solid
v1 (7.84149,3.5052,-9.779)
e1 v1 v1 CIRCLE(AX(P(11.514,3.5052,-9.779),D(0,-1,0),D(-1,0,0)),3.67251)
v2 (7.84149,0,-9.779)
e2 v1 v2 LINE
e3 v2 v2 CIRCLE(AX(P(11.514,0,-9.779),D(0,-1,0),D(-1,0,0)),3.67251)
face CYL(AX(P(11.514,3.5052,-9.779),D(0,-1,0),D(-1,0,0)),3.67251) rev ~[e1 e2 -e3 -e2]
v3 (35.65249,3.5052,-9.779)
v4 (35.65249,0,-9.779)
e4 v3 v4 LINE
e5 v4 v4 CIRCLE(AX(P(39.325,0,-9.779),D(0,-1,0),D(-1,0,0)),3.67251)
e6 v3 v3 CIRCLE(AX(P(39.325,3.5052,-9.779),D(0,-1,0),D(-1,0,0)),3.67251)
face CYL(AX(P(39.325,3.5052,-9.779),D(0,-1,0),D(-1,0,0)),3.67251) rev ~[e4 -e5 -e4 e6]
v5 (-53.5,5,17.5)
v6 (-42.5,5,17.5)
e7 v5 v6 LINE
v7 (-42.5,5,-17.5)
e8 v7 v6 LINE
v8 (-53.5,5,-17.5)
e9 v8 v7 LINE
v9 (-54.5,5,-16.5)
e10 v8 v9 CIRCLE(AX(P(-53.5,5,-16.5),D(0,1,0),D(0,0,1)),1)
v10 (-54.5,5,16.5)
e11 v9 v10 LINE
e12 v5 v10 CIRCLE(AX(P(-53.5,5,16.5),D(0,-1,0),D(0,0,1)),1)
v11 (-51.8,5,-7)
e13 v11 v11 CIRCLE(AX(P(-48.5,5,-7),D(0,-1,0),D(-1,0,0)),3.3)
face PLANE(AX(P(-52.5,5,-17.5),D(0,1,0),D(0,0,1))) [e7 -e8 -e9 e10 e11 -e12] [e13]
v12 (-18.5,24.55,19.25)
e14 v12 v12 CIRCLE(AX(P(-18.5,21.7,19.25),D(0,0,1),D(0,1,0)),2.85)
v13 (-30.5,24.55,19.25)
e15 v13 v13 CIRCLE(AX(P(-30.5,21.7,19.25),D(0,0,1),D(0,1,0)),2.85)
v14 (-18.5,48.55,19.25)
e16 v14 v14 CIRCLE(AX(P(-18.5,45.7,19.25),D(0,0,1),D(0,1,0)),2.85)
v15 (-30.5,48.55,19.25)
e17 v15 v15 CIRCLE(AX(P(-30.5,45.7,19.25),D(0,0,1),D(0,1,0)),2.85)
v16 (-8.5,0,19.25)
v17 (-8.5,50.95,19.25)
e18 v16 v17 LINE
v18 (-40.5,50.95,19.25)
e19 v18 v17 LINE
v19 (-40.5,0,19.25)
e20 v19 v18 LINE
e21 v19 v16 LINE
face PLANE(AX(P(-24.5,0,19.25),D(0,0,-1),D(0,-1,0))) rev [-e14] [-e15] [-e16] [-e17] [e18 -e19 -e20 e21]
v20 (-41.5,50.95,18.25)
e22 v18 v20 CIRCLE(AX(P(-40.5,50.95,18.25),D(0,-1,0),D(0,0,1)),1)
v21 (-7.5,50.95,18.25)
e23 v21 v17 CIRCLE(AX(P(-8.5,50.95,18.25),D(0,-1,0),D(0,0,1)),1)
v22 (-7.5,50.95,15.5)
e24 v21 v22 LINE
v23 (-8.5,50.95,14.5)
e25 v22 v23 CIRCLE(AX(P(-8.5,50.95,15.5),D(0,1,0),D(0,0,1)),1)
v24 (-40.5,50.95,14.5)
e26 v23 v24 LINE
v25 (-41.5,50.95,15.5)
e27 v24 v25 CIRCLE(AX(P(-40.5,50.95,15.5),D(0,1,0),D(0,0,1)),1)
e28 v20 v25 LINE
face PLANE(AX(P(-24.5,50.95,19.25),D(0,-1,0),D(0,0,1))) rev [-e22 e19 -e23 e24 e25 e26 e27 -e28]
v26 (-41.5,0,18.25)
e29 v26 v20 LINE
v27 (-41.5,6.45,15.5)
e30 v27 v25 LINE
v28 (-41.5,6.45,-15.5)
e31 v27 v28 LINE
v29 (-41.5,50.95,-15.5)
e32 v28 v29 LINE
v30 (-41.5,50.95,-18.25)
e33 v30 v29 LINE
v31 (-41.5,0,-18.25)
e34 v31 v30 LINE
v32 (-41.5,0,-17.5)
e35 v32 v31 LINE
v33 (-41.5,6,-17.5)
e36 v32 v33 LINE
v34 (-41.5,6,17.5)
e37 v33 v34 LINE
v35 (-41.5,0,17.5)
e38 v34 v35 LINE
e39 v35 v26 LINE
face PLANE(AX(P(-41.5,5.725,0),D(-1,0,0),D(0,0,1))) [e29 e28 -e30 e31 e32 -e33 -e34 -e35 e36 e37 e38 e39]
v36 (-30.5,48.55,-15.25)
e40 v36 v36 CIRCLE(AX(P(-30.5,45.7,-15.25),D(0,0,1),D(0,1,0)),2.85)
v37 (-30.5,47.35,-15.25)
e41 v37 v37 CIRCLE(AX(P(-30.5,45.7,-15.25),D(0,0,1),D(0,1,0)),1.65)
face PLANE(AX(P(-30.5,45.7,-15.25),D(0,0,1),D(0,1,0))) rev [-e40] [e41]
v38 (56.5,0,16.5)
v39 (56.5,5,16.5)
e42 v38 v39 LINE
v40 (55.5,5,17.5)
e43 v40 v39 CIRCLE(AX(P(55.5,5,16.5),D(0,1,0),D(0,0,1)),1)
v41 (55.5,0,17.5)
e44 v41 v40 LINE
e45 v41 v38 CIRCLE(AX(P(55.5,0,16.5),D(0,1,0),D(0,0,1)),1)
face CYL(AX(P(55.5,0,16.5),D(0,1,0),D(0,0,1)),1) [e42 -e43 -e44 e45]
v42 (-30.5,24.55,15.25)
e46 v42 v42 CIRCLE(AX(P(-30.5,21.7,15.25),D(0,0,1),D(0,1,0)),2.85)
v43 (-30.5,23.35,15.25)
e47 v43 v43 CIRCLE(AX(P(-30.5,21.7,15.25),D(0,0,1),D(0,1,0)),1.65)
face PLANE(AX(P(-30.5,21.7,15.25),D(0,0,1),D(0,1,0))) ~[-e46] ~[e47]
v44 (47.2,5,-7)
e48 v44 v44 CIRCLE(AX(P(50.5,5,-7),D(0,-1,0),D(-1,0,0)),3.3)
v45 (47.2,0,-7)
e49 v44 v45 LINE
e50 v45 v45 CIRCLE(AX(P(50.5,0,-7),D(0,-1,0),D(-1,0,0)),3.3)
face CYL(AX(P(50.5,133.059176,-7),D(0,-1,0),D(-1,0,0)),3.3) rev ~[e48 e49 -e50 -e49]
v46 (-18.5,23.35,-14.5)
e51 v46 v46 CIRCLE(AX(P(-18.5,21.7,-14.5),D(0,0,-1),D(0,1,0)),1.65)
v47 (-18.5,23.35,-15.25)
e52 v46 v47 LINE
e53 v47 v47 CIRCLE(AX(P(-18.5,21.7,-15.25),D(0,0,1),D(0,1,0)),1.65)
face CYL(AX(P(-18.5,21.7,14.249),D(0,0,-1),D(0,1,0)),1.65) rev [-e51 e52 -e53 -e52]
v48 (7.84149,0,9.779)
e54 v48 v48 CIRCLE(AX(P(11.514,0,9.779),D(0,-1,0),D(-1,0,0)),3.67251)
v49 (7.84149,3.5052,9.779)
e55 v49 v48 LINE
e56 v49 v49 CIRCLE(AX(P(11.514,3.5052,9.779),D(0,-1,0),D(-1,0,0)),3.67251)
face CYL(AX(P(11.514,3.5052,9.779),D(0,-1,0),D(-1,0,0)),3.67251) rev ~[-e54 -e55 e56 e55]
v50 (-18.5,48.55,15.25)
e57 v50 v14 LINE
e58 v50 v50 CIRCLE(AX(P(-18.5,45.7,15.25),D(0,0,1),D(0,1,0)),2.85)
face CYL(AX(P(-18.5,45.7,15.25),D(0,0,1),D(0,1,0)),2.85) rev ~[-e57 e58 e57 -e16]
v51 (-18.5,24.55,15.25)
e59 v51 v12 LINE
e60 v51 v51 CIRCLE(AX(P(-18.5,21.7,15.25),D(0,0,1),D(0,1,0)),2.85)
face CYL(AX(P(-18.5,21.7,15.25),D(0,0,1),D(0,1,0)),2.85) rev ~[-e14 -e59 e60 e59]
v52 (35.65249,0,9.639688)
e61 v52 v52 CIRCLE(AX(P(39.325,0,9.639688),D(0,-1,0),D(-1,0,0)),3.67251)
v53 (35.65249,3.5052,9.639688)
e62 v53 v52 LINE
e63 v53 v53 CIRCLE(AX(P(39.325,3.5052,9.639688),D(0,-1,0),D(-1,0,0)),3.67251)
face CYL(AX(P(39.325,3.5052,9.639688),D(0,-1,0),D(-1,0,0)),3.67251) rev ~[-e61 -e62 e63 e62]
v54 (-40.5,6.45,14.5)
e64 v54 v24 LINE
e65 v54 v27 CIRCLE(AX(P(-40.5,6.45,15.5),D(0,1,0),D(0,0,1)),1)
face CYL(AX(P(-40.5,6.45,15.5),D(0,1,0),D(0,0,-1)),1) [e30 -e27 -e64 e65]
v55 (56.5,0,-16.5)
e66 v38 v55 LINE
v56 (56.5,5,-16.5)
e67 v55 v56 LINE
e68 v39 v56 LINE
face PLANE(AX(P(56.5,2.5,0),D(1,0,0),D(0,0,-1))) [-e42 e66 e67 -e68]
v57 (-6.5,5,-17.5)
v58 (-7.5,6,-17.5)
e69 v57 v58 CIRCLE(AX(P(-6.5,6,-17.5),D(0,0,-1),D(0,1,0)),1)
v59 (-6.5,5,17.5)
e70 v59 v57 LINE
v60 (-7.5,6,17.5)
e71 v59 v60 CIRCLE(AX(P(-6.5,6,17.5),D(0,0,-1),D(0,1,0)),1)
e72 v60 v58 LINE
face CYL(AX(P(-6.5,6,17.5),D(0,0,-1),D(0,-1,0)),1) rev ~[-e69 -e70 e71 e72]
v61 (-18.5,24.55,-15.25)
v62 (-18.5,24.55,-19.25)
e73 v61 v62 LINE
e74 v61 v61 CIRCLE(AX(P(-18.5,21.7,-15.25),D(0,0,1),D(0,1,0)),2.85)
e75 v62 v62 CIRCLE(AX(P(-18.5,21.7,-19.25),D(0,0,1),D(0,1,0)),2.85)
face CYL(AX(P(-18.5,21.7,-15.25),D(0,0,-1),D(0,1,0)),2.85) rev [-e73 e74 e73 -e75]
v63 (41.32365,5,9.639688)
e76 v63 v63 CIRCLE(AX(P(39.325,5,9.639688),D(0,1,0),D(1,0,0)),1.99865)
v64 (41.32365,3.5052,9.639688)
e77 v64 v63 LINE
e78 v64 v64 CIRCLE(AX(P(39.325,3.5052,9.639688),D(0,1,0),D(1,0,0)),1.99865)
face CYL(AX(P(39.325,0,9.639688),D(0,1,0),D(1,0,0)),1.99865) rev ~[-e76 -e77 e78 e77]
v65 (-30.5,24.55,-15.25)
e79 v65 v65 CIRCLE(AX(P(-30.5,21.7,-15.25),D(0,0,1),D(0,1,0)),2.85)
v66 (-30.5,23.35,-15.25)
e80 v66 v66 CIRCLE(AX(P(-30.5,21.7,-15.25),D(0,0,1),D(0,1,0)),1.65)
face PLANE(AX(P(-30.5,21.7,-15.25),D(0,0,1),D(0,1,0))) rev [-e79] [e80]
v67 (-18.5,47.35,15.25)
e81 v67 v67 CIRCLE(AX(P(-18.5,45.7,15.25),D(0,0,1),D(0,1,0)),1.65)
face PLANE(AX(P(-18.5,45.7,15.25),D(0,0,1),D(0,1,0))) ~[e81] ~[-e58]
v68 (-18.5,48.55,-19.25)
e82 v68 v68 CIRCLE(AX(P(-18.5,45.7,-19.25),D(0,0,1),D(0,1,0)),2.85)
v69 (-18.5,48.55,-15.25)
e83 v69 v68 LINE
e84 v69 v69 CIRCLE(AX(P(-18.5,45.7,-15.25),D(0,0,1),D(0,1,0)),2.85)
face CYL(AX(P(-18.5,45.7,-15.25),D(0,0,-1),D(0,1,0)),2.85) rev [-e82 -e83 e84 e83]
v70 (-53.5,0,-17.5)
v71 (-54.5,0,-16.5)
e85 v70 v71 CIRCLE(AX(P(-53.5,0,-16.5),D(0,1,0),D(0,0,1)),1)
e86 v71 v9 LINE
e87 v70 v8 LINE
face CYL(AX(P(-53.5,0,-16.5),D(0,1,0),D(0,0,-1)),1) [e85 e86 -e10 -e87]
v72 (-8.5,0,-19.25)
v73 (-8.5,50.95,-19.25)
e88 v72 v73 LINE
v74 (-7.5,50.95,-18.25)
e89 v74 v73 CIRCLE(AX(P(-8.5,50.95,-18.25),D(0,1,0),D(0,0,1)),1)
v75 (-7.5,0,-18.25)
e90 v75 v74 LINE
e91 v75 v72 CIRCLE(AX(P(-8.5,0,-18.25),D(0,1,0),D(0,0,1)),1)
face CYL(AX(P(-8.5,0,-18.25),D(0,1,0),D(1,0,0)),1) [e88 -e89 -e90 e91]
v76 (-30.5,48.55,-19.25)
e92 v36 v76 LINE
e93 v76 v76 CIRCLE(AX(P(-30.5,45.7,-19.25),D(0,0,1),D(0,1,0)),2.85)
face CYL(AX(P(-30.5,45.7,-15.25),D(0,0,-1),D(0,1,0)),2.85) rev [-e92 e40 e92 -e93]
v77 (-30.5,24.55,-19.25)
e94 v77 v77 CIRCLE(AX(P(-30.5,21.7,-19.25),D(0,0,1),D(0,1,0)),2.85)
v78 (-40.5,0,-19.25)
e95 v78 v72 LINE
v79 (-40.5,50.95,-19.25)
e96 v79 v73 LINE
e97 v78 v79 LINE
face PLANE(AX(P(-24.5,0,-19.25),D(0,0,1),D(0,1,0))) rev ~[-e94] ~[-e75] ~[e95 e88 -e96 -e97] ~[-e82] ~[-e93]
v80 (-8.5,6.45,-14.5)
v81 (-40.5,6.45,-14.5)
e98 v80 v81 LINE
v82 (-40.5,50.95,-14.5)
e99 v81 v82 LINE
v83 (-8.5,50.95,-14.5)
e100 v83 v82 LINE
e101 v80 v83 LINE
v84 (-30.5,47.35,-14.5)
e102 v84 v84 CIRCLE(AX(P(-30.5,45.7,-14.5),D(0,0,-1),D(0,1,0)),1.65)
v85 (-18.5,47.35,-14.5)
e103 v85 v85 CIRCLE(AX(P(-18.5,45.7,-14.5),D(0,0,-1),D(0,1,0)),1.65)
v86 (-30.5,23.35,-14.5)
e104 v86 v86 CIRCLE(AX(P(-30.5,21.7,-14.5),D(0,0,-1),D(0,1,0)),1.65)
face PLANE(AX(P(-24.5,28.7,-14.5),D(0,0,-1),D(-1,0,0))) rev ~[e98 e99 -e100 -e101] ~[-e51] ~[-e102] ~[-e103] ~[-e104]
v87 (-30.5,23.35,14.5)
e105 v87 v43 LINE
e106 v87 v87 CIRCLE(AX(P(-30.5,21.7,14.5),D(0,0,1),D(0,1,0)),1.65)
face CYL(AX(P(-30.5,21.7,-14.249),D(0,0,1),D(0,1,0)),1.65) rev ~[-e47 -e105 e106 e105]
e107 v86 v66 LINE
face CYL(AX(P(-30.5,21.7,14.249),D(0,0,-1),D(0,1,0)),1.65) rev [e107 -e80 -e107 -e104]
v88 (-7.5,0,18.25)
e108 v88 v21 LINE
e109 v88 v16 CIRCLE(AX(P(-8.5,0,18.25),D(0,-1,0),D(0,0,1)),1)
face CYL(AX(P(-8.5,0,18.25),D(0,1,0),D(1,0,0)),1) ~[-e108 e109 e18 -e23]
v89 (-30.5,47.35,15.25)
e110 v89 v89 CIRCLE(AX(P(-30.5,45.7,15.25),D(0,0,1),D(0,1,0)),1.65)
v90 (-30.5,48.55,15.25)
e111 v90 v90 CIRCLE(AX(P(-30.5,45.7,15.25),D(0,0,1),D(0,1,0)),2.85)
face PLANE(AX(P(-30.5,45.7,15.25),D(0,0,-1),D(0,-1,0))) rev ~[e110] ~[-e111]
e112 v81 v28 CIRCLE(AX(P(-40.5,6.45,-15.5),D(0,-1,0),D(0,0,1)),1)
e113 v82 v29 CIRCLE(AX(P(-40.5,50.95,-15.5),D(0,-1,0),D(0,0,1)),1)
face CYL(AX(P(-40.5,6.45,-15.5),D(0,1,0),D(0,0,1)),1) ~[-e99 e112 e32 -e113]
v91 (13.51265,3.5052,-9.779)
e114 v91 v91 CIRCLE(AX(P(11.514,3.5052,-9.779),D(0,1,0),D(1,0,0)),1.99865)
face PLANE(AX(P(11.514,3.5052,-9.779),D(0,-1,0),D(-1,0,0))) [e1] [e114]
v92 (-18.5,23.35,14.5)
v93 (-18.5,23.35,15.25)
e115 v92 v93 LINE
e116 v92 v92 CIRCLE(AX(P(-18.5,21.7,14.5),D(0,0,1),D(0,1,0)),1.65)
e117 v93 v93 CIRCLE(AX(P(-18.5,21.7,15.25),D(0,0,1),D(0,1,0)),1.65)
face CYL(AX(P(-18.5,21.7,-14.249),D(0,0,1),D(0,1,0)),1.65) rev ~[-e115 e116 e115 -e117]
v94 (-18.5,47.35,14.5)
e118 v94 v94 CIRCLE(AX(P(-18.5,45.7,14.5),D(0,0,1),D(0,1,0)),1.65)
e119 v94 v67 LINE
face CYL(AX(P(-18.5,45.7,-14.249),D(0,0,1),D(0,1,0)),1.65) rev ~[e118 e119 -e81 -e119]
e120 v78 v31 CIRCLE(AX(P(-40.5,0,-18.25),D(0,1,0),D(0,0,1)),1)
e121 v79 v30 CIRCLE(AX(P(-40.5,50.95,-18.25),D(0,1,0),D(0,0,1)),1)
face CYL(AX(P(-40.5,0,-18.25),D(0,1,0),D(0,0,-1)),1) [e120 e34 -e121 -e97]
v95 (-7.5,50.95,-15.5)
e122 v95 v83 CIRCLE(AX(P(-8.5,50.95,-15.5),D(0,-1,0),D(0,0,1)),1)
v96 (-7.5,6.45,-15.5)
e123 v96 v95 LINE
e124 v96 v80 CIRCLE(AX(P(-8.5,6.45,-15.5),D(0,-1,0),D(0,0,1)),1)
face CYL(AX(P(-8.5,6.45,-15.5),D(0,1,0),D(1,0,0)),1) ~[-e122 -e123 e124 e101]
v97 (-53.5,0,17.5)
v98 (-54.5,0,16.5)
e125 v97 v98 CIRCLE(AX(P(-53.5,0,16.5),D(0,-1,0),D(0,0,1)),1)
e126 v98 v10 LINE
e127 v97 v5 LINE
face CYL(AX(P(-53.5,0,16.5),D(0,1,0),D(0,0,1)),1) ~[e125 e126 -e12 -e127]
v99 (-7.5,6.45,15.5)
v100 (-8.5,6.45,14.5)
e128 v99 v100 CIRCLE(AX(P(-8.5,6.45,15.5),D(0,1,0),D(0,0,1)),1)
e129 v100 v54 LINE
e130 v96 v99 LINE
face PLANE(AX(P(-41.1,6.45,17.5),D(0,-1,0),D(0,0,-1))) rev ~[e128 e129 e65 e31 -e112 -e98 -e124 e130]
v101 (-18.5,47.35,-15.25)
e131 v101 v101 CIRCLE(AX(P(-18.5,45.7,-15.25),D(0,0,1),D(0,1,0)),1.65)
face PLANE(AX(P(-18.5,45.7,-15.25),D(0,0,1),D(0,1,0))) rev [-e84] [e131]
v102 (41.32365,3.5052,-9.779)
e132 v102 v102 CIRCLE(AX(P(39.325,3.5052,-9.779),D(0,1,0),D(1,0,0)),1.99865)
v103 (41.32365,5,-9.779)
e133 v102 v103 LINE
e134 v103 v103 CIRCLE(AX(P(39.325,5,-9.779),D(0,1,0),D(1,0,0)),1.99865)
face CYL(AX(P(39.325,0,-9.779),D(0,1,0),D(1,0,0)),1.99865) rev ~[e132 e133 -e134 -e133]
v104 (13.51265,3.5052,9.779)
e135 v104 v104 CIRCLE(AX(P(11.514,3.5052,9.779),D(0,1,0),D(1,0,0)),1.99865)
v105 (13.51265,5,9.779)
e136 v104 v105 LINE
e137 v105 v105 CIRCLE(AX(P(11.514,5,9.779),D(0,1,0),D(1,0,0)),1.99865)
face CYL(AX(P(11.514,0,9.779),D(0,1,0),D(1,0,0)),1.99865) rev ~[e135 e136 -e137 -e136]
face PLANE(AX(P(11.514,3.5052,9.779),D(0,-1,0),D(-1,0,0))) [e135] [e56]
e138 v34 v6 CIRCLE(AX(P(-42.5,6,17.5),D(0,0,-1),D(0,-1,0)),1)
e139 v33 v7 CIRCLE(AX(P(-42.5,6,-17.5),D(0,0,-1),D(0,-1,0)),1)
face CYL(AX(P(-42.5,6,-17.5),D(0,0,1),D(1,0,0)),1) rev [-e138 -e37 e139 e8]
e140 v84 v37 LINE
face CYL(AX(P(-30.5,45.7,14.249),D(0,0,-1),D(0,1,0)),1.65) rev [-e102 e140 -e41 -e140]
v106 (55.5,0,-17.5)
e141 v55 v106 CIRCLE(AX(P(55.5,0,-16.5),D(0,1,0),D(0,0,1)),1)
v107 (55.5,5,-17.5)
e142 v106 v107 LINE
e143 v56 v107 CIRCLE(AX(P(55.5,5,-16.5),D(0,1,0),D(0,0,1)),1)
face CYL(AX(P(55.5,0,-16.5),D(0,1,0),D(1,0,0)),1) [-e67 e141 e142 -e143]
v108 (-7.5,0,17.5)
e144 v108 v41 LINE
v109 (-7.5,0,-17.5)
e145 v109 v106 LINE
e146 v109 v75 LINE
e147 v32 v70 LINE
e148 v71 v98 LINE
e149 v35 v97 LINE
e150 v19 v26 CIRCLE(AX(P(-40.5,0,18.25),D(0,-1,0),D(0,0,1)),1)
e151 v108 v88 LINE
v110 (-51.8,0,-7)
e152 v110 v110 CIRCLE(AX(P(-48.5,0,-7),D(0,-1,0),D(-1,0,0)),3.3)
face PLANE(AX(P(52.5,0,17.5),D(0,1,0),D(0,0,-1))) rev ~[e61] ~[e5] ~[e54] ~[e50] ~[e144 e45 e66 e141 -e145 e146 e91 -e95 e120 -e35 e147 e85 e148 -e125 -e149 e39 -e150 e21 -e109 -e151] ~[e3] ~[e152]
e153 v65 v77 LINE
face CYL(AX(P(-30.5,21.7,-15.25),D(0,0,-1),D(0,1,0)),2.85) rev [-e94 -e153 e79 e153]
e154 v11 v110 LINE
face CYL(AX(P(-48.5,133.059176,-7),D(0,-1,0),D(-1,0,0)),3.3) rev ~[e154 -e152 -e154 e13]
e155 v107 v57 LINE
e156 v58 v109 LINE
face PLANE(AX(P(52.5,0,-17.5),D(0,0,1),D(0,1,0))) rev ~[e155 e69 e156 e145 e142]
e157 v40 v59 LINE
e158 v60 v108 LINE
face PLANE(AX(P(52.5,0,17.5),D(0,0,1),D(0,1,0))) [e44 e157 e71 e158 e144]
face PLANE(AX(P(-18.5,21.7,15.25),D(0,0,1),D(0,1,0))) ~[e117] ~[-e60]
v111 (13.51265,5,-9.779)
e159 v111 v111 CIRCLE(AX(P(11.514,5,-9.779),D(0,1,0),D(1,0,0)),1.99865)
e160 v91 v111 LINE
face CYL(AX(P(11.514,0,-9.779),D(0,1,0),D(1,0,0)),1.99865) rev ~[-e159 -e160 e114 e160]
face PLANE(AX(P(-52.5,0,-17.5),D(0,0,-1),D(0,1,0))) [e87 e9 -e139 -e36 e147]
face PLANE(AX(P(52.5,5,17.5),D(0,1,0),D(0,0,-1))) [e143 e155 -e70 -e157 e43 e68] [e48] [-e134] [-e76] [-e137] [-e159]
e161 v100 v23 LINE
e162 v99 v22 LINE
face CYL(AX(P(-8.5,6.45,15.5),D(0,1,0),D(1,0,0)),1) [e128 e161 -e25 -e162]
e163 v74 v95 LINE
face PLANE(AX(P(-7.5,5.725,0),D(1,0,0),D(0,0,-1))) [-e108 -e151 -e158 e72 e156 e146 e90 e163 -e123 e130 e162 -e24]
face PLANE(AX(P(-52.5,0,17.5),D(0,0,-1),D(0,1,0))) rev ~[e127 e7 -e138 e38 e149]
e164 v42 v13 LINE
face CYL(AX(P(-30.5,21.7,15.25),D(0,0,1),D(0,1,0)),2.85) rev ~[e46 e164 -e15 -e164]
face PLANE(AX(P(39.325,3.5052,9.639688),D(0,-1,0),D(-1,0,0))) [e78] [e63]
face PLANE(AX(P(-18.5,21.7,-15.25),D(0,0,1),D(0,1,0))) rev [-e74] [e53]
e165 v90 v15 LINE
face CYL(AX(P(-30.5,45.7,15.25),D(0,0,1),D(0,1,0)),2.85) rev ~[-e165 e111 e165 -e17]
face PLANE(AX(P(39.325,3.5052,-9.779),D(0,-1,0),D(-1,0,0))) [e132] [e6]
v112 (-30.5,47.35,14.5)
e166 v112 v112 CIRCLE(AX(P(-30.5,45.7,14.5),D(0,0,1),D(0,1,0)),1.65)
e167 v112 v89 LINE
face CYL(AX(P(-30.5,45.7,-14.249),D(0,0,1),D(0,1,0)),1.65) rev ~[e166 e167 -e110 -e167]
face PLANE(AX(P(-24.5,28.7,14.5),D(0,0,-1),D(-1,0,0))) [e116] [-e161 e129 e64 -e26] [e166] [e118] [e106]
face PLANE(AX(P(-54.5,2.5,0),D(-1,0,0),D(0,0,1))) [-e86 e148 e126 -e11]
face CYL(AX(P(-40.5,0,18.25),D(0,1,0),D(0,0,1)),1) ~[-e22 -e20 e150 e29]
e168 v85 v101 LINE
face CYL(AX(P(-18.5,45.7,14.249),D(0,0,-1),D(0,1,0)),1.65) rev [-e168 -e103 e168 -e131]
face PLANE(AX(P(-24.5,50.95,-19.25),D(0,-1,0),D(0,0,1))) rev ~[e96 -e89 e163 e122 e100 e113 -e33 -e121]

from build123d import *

# Parameters (mm, degrees)
SKETCH1_W                                      = 105
SKETCH1_H                                      = 35
BOSS_EXTRUDE1_DEPTH                            = 5
SKETCH4_W                                      = 33.2
SKETCH4_H                                      = 35
BOSS_EXTRUDE2_DEPTH                            = 1.45
BOSS_EXTRUDE3_DEPTH                            = 17
CBORE_FOR_M2_5_SHCS1_AT_2_COUNT                = 2
CBORE_FOR_M2_5_SHCS1_AT_2_PITCH                = 12
CBORE_FOR_M2_5_SHCS1_AT_3_COUNT                = 2
CBORE_FOR_M2_5_SHCS1_AT_3_PITCH                = 24
CBORE_FOR_M2_5_SHCS1_AT_4_COUNT                = 2
CBORE_FOR_M2_5_SHCS1_AT_4_PITCH                = 26.83281573
BOSS_EXTRUDE5_DEPTH                            = 0.4
BOSS_EXTRUDE6_DEPTH                            = 0.4
CBORE_FOR_6_SOCKET_HEAD_CAP_SCREW1_D           = 3.997300108
CBORE_FOR_6_SOCKET_HEAD_CAP_SCREW1_CBORE_D     = 7.345020108
CBORE_FOR_6_SOCKET_HEAD_CAP_SCREW1_CBORE_DEPTH = 3.5052
SKETCH15_W                                     = 34
SKETCH15_H                                     = 44.5
CUT_EXTRUDE1_DEPTH                             = 14.5
SKETCH16_W                                     = 35
SKETCH16_H                                     = 5
BOSS_EXTRUDE7_DEPTH                            = 2
SKETCH17_W                                     = 35
SKETCH17_H                                     = 5
BOSS_EXTRUDE8_DEPTH                            = 4
M6_CLEARANCE_HOLE1_D                           = 6.6
FILLET1_R                                      = 1


with BuildPart() as part:
    # Sketch1 → Boss-Extrude1 (new body)
    with BuildSketch(Plane(origin=(0, 0, 0), x_dir=(1, 0, 0), z_dir=(0, 1, 0))):
        Rectangle(SKETCH1_W, SKETCH1_H)
    extrude(amount=BOSS_EXTRUDE1_DEPTH)

    # Sketch4 → Boss-Extrude2 (add)
    with BuildSketch(Plane(origin=(0, 5, 0), x_dir=(1, 0, 0), z_dir=(0, 1, 0))):
        with Locations((-24.5, 0)):
            Rectangle(SKETCH4_W, SKETCH4_H)
    extrude(amount=BOSS_EXTRUDE2_DEPTH)

    # Sketch5 → Boss-Extrude3 (add, symmetric)
    with BuildSketch(Plane.ZY.offset(24.5)):
        Polygon((-17.5, 0), (-19.25, 0), (-19.25, 50.95), (-14.25, 50.95), (-14.25, 6.45), (-17.5, 6.45), align=None)
    boss_extrude3 = extrude(amount=BOSS_EXTRUDE3_DEPTH, both=True)

    # Sketch9 → CBORE for M2.5 SHCS1 (revolve, cut)
    with BuildSketch(Plane(origin=(-30.5, 45.7, -19.25), x_dir=(0, 1, 0), z_dir=(1, 0, 0))):
        Polygon((0, 0), (0, 34.490420021), (1.65, 33.499), (1.65, 4), (2.85, 4), (2.85, 0), align=None)
    cbore_for_m2_5_shcs1 = revolve(axis=Axis((-30.5, 45.7, -25.6), (0, 0, 1)), mode=Mode.SUBTRACT)

    # CBORE for M2.5 SHCS1 at 2: CBORE for M2.5 SHCS1 ×2
    with Locations(*[(i * CBORE_FOR_M2_5_SHCS1_AT_2_PITCH, 0, 0) for i in range(1, CBORE_FOR_M2_5_SHCS1_AT_2_COUNT)]):
        add(cbore_for_m2_5_shcs1, mode=Mode.SUBTRACT)

    # CBORE for M2.5 SHCS1 at 3: CBORE for M2.5 SHCS1 ×2
    with Locations(*[(0, -i * CBORE_FOR_M2_5_SHCS1_AT_3_PITCH, 0) for i in range(1, CBORE_FOR_M2_5_SHCS1_AT_3_COUNT)]):
        add(cbore_for_m2_5_shcs1, mode=Mode.SUBTRACT)

    # CBORE for M2.5 SHCS1 at 4: CBORE for M2.5 SHCS1 ×2
    with Locations(*[Vector(0.44721359549995815, -0.8944271909999159, 0) * (i * CBORE_FOR_M2_5_SHCS1_AT_4_PITCH) for i in range(1, CBORE_FOR_M2_5_SHCS1_AT_4_COUNT)]):
        add(cbore_for_m2_5_shcs1, mode=Mode.SUBTRACT)

    # Mirror1: Boss-Extrude3, CBORE for M2.5 SHCS1 across plane
    add(boss_extrude3.mirror(Plane(origin=(0, 0, 0), x_dir=(1, 0, 0), z_dir=(0, 0, -1))))
    add(cbore_for_m2_5_shcs1.mirror(Plane(origin=(0, 0, 0), x_dir=(1, 0, 0), z_dir=(0, 0, -1))), mode=Mode.SUBTRACT)

    # Mirror1 copy 1 sketch → Mirror1 copy 1 (revolve, cut)
    with BuildSketch(Plane(origin=(-18.5, 45.7, 19.25), x_dir=(0, 1, 0), z_dir=(1, 0, 0))):
        Polygon((0, 0), (0, -34.490420021), (1.65, -33.499), (1.65, -4), (2.85, -4), (2.85, 0), align=None)
    revolve(axis=Axis((-18.5, 45.7, 25.6), (0, 0, 1)), mode=Mode.SUBTRACT)

    # Mirror1 copy 2 sketch → Mirror1 copy 2 (revolve, cut)
    with BuildSketch(Plane(origin=(-30.5, 21.7, 19.25), x_dir=(0, 1, 0), z_dir=(1, 0, 0))):
        Polygon((0, 0), (0, -34.490420021), (1.65, -33.499), (1.65, -4), (2.85, -4), (2.85, 0), align=None)
    revolve(axis=Axis((-30.5, 21.7, 25.6), (0, 0, 1)), mode=Mode.SUBTRACT)

    # Mirror1 copy 3 sketch → Mirror1 copy 3 (revolve, cut)
    with BuildSketch(Plane(origin=(-18.5, 21.7, 19.25), x_dir=(0, 1, 0), z_dir=(1, 0, 0))):
        Polygon((0, 0), (0, -34.490420021), (1.65, -33.499), (1.65, -4), (2.85, -4), (2.85, 0), align=None)
    revolve(axis=Axis((-18.5, 21.7, 25.6), (0, 0, 1)), mode=Mode.SUBTRACT)

    # Sketch11 → Boss-Extrude5 (add)
    with BuildSketch(Plane(origin=(-7.9, 0, 0), x_dir=(0, 0, -1), z_dir=(1, 0, 0))):
        Polygon((17.5, 5), (17.5, 6.45), (14.25, 6.45), (-14.25, 6.45), (-17.5, 6.45), (-17.5, 5), align=None)
    extrude(amount=BOSS_EXTRUDE5_DEPTH)

    # Sketch12 → Boss-Extrude6 (add)
    with BuildSketch(Plane.ZY.offset(41.1)):
        Polygon((17.5, 5), (17.5, 6.45), (14.25, 6.45), (-14.25, 6.45), (-17.5, 6.45), (-17.5, 5), align=None)
    extrude(amount=BOSS_EXTRUDE6_DEPTH)

    # CBORE for #6 Socket Head Cap Screw1 (through all)
    with Locations(Plane(origin=(0, 0, 0), x_dir=(-1, 0, 0), z_dir=(0, -1, 0))):
        with Locations((-39.325, 9.779), (-11.514, 9.779), (-39.325, -9.639687995), (-11.514, -9.779)):
            CounterBoreHole(CBORE_FOR_6_SOCKET_HEAD_CAP_SCREW1_D / 2, CBORE_FOR_6_SOCKET_HEAD_CAP_SCREW1_CBORE_D / 2, CBORE_FOR_6_SOCKET_HEAD_CAP_SCREW1_CBORE_DEPTH)

    # Sketch15 → Cut-Extrude1 (cut, symmetric)
    with BuildSketch(Plane(origin=(0, 0, 0), x_dir=(-1, 0, 0), z_dir=(0, 0, -1))):
        with Locations((24.5, 28.7)):
            Rectangle(SKETCH15_W, SKETCH15_H)
    extrude(amount=CUT_EXTRUDE1_DEPTH, both=True, mode=Mode.SUBTRACT)

    # Sketch16 → Boss-Extrude7 (add)
    with BuildSketch(Plane.ZY.offset(52.5)):
        with Locations((0, 2.5)):
            Rectangle(SKETCH16_W, SKETCH16_H)
    extrude(amount=BOSS_EXTRUDE7_DEPTH)

    # Sketch17 → Boss-Extrude8 (add)
    with BuildSketch(Plane(origin=(52.5, 0, 0), x_dir=(0, 0, -1), z_dir=(1, 0, 0))):
        with Locations((0, 2.5)):
            Rectangle(SKETCH17_W, SKETCH17_H)
    extrude(amount=BOSS_EXTRUDE8_DEPTH)

    # M6 Clearance Hole1 (through all)
    with Locations(Plane(origin=(0, 5, 0), x_dir=(1, 0, 0), z_dir=(0, 1, 0))):
        with Locations((-48.5, 7), (50.5, 7)):
            Hole(M6_CLEARANCE_HOLE1_D / 2)

    # Fillet1
    fillet1_edges = [part.edges().sort_by_distance(p)[0] for p in [
        (-7.5, 5, 0),
        (-41.5, 5, 0),
        (-7.5, 28.7, -14.5),
        (-41.5, 28.7, -14.5),
        (-7.5, 28.7, 14.5),
        (-41.5, 28.7, 14.5),
        (-54.5, 2.5, -17.5),
        (-54.5, 2.5, 17.5),
        (56.5, 2.5, 17.5),
        (56.5, 2.5, -17.5),
        (-41.5, 25.475, -19.25),
        (-7.5, 25.475, -19.25),
        (-41.5, 25.475, 19.25),
        (-7.5, 25.475, 19.25),
    ]]
    fillet(fillet1_edges, radius=FILLET1_R)


solid = part.part
